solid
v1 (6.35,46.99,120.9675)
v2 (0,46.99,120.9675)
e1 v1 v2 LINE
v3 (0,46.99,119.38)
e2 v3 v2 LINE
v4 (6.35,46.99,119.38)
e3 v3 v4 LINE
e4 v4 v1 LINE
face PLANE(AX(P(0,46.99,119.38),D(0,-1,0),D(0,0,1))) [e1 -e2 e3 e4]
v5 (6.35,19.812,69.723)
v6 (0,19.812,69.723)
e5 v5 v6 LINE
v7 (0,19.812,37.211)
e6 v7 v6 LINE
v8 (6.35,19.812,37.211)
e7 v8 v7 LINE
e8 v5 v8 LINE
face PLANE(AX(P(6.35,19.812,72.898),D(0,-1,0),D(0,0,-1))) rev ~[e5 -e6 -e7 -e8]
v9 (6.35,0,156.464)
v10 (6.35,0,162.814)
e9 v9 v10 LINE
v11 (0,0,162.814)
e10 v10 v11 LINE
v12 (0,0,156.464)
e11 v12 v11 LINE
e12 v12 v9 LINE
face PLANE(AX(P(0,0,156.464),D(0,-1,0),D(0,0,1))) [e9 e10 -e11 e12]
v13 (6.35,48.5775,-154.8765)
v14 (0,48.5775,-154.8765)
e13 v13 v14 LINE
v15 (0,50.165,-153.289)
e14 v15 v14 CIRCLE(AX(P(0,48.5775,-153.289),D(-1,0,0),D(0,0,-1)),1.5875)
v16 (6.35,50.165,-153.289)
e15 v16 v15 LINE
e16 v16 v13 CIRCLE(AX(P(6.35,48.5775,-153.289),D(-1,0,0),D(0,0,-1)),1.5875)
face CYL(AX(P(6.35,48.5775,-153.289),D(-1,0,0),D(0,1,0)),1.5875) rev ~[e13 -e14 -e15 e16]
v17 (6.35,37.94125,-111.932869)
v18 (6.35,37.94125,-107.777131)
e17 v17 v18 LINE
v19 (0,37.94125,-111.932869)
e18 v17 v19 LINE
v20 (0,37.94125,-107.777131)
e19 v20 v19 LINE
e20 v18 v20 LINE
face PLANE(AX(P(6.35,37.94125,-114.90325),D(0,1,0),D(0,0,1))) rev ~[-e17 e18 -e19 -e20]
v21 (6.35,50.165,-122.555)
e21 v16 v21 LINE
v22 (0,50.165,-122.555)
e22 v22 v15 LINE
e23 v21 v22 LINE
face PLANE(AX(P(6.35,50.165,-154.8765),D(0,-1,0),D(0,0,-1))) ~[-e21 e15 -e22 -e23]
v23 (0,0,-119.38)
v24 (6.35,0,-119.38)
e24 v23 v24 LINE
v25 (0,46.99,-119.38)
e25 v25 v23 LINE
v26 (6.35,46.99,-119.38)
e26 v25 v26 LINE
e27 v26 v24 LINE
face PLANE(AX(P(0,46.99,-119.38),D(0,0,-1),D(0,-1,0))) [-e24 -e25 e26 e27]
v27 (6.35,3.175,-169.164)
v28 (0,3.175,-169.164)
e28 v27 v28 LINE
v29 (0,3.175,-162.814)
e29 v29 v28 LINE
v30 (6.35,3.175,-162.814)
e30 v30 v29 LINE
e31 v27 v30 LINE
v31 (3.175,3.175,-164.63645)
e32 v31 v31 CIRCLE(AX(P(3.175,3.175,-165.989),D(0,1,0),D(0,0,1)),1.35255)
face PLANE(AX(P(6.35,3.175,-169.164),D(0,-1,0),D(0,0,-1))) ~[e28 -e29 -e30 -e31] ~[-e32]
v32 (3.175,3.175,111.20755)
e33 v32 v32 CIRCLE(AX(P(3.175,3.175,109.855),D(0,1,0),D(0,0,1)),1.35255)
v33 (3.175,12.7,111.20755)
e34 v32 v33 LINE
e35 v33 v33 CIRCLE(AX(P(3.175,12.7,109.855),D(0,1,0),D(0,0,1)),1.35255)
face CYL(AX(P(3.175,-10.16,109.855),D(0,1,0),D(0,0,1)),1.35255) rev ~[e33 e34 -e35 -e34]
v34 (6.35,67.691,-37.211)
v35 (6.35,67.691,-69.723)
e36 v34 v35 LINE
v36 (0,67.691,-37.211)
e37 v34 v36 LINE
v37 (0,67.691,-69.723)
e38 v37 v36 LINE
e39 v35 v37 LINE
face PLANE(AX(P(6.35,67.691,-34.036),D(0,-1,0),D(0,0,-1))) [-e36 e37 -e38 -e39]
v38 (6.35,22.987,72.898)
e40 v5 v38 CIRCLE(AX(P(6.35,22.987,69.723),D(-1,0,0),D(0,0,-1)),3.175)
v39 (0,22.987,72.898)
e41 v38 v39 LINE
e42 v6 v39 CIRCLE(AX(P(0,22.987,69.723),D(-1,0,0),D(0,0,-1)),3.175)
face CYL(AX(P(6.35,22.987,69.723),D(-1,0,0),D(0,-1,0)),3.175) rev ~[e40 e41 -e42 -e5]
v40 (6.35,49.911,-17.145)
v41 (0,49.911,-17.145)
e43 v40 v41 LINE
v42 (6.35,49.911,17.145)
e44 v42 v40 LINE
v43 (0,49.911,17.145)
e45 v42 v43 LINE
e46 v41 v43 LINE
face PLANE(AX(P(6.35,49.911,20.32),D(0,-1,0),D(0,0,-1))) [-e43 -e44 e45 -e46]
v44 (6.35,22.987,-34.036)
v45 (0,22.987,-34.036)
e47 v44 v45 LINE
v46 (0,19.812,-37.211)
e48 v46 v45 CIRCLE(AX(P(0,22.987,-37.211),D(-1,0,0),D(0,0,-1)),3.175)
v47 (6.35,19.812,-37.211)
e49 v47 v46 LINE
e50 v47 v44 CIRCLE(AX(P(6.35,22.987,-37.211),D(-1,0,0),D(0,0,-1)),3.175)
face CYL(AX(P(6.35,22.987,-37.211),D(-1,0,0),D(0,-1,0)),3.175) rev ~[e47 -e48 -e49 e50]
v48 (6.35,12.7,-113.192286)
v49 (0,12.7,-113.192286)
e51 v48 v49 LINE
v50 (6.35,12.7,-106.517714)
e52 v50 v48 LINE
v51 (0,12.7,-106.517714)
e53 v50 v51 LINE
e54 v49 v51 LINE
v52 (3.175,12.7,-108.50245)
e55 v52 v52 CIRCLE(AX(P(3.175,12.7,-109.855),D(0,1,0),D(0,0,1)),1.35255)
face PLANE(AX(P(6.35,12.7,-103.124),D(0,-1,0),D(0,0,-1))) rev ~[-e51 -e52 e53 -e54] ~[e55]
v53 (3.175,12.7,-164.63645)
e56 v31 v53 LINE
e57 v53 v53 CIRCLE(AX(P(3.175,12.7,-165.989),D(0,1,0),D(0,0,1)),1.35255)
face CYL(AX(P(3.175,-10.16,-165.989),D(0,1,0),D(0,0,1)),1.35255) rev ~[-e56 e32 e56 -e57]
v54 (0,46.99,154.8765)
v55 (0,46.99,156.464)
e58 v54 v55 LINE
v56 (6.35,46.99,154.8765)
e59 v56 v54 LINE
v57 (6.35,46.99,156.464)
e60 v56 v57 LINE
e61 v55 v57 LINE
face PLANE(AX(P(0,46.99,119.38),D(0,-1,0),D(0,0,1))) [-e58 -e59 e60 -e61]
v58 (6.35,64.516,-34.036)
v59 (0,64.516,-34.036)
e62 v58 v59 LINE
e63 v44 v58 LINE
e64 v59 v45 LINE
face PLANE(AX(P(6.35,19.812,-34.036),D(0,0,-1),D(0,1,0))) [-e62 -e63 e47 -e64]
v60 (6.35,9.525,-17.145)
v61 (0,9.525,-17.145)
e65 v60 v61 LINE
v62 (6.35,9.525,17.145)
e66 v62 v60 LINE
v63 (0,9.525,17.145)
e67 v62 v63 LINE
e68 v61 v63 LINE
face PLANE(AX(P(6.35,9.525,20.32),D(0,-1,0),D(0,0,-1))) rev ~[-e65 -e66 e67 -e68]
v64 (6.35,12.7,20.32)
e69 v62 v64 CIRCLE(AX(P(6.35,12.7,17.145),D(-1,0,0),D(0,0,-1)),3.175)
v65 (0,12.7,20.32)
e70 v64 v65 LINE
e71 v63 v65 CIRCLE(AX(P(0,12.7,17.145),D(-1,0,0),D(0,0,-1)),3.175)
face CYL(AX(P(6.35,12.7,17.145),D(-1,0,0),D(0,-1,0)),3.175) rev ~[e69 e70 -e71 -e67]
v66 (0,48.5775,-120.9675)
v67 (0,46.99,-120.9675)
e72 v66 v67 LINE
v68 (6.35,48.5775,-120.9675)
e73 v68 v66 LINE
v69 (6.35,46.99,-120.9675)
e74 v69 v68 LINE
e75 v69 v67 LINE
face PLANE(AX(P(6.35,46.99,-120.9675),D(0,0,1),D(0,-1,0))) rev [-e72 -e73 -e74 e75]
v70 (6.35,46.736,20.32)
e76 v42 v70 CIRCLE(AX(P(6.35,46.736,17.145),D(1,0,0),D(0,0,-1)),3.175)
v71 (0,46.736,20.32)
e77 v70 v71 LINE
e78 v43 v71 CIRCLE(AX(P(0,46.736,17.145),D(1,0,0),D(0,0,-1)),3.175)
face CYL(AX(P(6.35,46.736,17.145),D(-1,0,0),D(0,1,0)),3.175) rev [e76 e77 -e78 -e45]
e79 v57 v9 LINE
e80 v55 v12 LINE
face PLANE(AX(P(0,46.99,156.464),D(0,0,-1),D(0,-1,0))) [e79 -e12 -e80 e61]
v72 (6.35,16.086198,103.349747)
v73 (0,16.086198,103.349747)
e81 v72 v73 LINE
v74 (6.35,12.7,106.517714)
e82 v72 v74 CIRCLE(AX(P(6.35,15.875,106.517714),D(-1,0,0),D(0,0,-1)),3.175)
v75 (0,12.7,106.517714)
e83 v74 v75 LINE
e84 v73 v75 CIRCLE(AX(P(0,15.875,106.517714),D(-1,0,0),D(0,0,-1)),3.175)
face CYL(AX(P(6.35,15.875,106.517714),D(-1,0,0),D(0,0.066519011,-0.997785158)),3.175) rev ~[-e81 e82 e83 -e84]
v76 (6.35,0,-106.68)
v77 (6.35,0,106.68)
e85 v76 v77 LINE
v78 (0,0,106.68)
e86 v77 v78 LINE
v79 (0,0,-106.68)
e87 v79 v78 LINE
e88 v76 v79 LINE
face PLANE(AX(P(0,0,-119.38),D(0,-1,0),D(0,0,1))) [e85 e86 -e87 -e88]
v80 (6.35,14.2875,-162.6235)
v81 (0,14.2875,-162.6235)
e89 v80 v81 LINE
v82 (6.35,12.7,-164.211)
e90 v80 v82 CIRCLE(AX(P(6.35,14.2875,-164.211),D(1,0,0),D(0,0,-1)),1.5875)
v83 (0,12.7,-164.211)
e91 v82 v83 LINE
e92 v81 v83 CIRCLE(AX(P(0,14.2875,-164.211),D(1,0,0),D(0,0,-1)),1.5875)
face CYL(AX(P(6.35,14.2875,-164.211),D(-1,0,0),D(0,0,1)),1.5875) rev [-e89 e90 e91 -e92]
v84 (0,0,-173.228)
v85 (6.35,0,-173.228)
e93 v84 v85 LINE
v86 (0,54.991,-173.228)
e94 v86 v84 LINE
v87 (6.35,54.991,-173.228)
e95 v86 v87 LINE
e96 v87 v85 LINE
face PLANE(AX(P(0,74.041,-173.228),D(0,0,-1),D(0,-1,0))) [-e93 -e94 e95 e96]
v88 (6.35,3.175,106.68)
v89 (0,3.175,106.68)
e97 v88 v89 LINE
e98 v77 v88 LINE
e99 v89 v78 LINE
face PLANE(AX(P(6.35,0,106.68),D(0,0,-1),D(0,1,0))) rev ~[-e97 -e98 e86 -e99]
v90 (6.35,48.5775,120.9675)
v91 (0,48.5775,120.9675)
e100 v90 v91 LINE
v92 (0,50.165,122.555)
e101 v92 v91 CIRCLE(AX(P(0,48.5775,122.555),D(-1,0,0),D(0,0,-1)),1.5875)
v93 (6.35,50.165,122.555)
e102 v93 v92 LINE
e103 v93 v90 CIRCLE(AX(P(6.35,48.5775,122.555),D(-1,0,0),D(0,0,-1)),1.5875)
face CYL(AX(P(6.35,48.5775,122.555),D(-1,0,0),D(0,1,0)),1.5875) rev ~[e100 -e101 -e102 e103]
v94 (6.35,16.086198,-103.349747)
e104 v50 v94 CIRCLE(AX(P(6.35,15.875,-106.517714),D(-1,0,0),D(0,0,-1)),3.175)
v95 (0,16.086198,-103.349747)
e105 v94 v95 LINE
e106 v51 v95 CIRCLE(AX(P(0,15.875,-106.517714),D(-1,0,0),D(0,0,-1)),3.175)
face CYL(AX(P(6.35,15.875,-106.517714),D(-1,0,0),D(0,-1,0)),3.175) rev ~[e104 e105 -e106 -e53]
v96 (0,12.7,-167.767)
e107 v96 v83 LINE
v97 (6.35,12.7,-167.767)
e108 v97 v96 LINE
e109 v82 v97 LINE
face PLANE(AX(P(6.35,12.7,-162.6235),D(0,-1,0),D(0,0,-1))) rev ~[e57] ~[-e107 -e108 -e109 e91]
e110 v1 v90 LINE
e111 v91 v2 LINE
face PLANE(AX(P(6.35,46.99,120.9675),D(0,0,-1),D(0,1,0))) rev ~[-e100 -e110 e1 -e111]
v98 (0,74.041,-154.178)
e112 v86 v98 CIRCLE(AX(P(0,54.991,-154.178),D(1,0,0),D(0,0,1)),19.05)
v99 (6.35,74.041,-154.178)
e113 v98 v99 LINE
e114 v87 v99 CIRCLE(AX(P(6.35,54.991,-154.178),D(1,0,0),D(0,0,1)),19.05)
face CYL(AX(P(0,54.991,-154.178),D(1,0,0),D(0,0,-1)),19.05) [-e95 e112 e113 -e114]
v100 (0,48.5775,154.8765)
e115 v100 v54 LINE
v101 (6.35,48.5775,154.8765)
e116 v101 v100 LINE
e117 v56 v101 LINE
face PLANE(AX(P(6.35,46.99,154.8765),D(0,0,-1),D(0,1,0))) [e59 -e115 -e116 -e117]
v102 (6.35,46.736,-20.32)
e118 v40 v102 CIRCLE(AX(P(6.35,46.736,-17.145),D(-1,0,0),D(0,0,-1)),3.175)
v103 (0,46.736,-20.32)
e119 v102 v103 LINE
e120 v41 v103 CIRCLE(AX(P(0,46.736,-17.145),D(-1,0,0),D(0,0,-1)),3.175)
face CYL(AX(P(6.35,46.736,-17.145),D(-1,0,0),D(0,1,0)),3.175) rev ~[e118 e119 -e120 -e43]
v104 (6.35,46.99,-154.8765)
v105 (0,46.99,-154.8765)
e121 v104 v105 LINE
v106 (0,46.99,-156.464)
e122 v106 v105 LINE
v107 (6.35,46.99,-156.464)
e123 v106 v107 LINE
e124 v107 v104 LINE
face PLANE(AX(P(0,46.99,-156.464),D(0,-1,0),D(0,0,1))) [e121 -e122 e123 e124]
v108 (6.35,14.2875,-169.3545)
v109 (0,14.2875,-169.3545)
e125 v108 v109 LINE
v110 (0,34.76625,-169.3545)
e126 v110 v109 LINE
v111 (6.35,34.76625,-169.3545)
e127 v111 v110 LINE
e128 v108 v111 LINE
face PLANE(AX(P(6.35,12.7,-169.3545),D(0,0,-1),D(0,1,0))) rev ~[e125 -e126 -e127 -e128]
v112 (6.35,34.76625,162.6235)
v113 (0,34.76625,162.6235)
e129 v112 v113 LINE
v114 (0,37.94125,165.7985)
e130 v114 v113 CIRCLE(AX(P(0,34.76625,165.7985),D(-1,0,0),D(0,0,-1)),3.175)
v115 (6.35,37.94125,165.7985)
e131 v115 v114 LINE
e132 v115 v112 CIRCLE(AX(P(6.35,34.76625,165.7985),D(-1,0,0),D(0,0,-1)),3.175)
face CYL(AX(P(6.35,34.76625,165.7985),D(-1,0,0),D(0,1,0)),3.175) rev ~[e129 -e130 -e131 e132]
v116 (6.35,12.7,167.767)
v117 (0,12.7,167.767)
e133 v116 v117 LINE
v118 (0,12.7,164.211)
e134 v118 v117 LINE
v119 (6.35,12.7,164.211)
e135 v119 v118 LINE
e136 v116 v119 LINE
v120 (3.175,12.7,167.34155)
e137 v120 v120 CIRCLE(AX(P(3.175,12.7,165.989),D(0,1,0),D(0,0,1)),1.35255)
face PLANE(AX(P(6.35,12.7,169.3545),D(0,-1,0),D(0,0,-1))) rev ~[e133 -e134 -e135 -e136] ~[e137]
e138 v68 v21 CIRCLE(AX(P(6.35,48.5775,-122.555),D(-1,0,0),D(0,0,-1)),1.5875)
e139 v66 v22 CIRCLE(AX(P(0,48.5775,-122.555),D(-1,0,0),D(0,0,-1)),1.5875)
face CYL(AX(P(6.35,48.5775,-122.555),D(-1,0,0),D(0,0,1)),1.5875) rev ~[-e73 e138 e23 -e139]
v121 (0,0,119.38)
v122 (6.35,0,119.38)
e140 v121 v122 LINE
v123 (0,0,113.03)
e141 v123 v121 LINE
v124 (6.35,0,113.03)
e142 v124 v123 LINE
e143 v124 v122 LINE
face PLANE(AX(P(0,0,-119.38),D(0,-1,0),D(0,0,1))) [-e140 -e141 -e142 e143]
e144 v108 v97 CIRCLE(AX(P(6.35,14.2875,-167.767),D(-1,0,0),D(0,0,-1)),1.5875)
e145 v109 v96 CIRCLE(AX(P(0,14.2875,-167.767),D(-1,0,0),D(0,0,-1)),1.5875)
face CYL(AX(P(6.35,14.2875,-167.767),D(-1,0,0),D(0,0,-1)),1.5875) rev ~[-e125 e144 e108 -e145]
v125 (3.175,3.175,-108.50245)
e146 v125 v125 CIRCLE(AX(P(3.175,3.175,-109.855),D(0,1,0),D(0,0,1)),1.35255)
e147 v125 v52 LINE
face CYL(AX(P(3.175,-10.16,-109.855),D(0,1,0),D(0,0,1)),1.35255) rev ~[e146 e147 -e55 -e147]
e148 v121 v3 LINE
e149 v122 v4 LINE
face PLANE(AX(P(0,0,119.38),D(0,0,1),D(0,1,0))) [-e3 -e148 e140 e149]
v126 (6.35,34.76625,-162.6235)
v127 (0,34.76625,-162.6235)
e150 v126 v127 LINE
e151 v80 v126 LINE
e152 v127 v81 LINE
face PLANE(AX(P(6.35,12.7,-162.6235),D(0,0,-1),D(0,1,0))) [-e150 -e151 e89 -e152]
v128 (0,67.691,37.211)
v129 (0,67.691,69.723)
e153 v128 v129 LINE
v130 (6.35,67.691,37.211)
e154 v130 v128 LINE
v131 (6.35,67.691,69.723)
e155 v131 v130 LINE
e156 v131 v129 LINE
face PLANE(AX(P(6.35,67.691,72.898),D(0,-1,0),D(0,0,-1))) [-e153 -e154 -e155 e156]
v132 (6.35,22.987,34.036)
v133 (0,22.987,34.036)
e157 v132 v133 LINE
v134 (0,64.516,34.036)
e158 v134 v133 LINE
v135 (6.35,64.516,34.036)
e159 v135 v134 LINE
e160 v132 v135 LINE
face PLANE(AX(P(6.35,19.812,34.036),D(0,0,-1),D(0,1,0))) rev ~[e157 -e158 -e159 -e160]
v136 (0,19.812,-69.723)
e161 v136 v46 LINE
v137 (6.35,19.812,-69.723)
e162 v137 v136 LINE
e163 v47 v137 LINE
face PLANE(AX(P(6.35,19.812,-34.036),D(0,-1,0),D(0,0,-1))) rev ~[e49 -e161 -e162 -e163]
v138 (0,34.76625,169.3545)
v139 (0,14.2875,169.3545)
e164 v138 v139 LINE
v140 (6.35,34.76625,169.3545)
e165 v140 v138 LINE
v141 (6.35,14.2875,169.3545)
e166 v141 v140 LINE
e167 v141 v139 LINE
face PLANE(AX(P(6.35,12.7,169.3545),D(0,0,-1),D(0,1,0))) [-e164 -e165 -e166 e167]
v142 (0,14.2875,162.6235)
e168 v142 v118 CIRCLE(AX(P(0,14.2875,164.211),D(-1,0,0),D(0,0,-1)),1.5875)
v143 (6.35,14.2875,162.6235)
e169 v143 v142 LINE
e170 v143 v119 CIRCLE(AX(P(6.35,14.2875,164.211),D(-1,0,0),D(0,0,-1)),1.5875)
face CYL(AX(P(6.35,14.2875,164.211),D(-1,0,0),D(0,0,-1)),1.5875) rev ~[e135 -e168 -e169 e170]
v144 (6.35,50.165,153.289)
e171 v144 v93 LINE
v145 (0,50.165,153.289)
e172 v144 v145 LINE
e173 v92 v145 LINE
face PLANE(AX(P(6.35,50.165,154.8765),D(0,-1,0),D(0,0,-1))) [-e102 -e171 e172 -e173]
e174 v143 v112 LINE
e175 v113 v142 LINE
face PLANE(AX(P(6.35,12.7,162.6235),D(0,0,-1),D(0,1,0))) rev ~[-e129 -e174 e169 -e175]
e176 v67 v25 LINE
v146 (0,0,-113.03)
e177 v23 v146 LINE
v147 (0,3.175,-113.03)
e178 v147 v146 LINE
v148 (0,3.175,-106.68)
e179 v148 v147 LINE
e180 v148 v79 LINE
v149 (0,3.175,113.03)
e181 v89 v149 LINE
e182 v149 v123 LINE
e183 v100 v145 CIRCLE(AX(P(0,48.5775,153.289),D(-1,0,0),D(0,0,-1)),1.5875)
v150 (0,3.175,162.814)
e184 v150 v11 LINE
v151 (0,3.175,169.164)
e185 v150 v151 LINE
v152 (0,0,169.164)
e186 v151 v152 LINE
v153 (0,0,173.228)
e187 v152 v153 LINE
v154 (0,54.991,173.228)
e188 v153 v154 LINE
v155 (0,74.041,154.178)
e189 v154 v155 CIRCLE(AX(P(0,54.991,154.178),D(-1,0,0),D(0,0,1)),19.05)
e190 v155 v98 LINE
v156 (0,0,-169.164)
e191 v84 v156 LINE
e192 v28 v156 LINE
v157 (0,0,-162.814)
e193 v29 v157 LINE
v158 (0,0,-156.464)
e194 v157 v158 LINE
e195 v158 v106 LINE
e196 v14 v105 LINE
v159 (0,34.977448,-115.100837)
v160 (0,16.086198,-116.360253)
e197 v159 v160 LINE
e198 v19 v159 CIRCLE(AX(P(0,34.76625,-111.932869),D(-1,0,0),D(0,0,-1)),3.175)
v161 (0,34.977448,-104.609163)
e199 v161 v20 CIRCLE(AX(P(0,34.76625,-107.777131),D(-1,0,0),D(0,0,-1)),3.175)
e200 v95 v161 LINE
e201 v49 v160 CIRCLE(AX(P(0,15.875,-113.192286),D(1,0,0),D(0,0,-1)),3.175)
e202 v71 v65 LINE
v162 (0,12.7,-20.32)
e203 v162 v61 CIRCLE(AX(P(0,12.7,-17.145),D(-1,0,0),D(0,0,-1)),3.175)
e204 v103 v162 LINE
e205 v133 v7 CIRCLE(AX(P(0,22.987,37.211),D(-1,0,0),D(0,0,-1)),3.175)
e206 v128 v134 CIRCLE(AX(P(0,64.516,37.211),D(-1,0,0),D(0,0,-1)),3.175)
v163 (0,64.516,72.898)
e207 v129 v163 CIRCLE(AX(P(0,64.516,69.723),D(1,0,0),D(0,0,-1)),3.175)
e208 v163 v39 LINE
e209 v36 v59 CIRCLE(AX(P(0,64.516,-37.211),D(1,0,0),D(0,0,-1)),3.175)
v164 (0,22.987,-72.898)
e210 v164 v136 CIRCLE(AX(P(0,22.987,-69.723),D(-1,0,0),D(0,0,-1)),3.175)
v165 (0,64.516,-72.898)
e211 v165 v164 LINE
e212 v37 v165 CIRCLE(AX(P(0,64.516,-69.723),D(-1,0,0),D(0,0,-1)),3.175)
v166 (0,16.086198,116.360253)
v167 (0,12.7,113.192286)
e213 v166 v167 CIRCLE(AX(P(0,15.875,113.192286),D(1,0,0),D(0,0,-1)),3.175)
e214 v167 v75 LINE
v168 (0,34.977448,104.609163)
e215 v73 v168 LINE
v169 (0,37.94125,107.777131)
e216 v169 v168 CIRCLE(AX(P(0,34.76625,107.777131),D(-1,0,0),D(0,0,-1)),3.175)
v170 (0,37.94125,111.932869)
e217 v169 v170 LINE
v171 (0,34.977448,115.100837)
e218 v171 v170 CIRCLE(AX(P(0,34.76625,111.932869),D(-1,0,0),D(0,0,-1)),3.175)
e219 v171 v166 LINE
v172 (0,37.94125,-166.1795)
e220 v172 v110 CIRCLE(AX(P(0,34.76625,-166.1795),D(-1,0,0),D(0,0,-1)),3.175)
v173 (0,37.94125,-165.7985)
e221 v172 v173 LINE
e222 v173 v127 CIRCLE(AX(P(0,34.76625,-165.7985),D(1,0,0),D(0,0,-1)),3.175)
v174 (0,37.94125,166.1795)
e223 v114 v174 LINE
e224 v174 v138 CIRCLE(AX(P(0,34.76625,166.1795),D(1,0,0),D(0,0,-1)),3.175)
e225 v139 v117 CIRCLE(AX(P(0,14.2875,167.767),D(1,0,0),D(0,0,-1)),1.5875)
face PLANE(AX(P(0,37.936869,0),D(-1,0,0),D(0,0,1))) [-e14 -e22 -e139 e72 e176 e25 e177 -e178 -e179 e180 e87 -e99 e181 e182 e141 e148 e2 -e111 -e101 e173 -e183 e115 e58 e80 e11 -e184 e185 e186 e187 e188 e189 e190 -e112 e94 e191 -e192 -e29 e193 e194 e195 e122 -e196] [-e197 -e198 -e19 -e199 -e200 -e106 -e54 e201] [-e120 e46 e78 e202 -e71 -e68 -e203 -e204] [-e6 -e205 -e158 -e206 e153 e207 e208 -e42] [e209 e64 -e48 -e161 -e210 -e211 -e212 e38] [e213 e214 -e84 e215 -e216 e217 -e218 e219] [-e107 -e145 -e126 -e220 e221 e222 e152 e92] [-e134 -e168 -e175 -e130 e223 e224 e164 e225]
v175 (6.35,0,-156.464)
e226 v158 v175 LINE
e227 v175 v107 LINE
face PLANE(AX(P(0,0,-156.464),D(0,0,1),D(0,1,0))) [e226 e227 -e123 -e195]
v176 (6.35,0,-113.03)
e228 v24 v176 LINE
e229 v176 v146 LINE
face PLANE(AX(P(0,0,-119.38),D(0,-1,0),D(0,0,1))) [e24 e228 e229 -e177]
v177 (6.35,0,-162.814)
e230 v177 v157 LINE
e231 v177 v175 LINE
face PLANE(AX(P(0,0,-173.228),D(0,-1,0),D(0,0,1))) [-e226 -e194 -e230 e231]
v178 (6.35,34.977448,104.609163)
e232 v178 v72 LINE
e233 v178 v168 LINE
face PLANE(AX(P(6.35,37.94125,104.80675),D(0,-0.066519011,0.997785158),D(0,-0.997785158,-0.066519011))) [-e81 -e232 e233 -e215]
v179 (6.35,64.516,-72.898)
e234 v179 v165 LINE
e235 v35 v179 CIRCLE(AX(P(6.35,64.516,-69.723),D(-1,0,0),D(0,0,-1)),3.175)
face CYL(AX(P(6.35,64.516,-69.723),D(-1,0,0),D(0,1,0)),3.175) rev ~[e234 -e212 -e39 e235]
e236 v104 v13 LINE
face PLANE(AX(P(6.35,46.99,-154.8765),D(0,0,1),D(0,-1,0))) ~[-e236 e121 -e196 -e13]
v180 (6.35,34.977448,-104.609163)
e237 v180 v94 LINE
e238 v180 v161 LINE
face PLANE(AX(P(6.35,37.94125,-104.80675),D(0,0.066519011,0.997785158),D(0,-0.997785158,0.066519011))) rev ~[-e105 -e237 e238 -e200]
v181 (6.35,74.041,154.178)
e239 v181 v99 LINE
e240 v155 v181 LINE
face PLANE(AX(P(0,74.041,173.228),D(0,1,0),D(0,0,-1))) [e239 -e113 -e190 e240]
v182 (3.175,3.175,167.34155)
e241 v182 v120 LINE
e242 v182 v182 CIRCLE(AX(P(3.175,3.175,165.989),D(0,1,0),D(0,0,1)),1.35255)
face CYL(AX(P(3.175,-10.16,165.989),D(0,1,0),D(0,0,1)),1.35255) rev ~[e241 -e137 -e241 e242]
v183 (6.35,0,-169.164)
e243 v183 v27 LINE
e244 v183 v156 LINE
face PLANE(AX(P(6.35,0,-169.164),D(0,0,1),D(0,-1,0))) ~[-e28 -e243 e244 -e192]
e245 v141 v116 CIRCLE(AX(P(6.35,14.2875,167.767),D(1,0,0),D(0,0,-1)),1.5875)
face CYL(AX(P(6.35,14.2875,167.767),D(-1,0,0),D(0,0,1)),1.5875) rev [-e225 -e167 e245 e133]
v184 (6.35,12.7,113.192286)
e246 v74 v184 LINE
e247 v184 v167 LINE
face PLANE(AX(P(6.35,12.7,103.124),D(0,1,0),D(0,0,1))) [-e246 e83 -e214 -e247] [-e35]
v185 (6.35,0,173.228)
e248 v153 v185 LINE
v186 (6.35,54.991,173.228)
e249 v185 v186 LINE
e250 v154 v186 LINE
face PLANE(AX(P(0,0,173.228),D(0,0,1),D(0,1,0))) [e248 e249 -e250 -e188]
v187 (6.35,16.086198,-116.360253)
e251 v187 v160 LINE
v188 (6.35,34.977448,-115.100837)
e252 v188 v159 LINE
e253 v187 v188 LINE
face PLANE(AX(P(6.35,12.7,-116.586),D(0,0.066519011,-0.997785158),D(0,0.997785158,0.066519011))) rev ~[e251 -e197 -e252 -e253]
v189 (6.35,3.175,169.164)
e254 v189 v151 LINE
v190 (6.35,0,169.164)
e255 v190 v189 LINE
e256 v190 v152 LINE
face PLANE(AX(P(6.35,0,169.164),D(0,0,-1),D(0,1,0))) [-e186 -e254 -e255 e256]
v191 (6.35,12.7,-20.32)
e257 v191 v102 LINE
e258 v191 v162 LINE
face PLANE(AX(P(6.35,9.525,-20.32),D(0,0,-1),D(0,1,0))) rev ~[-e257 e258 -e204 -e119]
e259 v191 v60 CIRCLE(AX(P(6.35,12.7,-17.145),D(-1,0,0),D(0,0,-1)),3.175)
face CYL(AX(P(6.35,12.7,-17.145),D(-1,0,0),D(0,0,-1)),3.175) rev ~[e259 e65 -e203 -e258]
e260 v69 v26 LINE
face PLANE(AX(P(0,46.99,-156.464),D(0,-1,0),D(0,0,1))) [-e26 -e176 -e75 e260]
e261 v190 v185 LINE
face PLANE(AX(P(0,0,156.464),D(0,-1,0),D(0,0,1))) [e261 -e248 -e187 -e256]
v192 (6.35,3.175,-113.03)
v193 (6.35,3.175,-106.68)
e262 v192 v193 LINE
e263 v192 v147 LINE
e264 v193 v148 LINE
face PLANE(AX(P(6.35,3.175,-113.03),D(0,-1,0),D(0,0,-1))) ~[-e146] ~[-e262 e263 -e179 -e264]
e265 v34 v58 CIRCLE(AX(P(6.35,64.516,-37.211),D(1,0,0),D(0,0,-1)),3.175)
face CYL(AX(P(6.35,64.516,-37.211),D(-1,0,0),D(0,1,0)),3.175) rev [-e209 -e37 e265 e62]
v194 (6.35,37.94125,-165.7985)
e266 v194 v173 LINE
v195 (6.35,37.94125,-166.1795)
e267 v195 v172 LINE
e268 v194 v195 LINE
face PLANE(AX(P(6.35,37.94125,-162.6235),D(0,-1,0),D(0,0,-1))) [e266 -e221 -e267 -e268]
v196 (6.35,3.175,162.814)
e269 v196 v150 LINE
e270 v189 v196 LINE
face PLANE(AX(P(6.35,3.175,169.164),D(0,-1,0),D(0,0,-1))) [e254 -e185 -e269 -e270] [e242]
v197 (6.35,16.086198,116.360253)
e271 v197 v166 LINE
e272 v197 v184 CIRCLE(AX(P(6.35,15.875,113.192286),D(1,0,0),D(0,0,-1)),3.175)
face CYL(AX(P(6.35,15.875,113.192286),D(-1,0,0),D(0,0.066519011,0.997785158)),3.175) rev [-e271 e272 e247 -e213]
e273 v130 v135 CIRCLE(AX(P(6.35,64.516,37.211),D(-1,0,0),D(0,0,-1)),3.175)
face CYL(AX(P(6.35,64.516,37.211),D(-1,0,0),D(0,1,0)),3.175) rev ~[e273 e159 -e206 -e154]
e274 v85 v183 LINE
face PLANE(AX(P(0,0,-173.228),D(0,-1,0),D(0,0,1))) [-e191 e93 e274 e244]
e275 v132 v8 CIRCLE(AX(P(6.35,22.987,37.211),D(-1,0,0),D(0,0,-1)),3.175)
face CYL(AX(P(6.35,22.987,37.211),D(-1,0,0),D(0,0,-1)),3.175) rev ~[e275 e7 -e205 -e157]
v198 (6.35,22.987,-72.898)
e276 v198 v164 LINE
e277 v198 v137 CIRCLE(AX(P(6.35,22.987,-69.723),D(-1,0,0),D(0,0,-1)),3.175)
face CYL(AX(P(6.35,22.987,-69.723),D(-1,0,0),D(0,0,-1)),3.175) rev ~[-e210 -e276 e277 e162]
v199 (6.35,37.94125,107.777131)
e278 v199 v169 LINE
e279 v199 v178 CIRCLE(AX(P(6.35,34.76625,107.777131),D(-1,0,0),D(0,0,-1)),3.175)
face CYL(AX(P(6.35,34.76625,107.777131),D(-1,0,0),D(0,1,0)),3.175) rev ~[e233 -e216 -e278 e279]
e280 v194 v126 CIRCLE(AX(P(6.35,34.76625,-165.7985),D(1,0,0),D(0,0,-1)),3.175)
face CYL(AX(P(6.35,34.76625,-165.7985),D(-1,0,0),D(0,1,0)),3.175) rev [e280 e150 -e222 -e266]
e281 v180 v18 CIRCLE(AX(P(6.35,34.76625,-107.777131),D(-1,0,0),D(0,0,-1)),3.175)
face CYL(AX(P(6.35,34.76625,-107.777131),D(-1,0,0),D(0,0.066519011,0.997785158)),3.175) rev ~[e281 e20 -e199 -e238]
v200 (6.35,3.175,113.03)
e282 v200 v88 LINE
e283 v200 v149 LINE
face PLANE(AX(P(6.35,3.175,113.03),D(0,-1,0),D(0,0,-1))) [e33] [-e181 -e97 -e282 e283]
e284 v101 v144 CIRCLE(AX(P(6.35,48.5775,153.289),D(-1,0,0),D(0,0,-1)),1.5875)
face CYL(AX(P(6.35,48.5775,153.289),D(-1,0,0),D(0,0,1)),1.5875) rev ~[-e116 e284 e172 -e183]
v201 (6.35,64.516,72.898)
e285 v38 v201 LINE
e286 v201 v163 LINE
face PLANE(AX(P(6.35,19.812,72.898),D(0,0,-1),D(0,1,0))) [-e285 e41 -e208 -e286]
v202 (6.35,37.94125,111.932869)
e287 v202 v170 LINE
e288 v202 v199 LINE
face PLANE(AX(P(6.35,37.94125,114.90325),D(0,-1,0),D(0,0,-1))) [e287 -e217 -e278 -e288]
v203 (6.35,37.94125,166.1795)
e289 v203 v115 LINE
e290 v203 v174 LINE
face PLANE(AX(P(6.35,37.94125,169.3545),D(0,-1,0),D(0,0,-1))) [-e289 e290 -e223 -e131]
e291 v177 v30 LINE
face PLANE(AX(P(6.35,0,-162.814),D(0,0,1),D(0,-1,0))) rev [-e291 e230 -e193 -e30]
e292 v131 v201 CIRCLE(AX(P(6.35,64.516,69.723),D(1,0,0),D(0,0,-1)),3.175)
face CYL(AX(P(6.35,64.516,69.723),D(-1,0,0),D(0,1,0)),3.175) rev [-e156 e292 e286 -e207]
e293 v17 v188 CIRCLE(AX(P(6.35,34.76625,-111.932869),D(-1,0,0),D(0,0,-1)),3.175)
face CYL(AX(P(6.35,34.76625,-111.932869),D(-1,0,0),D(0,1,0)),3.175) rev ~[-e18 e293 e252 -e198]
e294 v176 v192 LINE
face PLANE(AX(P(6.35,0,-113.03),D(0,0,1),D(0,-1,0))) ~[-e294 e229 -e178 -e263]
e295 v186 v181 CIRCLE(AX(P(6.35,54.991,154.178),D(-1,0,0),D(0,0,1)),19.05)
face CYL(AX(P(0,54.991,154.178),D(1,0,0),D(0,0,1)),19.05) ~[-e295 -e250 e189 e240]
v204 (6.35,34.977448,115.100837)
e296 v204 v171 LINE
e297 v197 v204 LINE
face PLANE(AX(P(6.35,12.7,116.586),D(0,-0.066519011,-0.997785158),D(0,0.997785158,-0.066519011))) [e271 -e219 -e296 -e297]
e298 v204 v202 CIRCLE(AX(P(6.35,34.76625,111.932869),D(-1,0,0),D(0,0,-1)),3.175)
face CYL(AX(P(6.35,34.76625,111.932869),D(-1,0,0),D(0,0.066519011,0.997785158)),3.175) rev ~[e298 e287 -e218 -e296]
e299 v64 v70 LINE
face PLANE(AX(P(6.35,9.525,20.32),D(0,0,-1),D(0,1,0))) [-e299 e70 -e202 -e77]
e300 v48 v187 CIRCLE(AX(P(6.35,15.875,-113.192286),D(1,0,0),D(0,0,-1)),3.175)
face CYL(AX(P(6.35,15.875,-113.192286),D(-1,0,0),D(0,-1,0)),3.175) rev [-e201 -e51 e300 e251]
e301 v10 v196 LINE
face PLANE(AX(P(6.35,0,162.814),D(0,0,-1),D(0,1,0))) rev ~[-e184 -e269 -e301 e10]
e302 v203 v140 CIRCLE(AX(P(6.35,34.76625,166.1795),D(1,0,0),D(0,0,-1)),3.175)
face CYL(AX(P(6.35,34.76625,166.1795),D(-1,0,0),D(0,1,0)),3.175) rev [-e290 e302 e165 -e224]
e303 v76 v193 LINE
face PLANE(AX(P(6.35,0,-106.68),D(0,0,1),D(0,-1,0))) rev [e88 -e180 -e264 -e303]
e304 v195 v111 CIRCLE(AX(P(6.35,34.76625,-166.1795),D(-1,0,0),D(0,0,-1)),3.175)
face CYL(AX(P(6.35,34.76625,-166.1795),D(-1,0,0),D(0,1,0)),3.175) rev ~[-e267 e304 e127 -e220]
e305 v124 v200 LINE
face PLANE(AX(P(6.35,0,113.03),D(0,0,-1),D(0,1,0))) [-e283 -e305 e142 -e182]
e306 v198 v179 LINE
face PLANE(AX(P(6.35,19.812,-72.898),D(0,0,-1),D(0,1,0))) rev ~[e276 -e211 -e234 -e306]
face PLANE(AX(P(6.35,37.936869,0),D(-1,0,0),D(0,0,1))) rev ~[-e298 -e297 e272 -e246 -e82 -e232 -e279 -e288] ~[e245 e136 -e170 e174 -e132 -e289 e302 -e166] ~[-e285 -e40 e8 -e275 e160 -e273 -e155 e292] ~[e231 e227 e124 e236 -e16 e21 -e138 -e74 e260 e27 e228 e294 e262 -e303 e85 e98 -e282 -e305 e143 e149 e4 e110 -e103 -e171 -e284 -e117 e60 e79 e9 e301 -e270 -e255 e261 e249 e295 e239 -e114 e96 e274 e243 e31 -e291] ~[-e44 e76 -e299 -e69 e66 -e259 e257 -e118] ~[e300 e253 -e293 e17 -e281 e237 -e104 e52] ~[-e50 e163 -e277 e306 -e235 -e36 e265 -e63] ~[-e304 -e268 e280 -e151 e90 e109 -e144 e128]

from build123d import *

# Parameters (mm, degrees)
BOSS_EXTRUDE1_DEPTH       = 6.35
FILLET1_R                 = 19.05
SKETCH2_W                 = 33.909
SKETCH2_H                 = 3.175
CUT_EXTRUDE1_DEPTH        = 189.494912836
FILLET2_R                 = 1.5875
FILLET2_OF_MIRROR1_R      = 1.5875
SKETCH3_W                 = 6.35
SKETCH3_H                 = 3.175
CUT_EXTRUDE2_DEPTH        = 189.494912836
SKETCH4_W                 = 38.862
SKETCH4_H                 = 47.879
SKETCH4_W_2               = 40.64
SKETCH4_H_2               = 40.386
CUT_EXTRUDE3_DEPTH        = 189.494912836
FILLET3_R                 = 3.175
SKETCH5_W                 = 6.731
SKETCH5_H                 = 25.24125
CUT_EXTRUDE4_DEPTH        = 189.494912836
FILLET4_R                 = 3.175
FILLET5_R                 = 1.5875
F_6_32_TAPPED_HOLE1_D     = 2.7051
F_6_32_TAPPED_HOLE1_DEPTH = 13.335
F_6_32_TAPPED_HOLE1_TIP   = 0.81269403


with BuildPart() as part:
    # Sketch1 → Boss-Extrude1 (new body)
    with BuildSketch(Plane(origin=(0, 0, 0), x_dir=(0, 0, -1), z_dir=(1, 0, 0))):
        Polygon((173.228, 74.041), (173.228, 0), (156.464, 0), (156.464, 46.99), (119.38, 46.99), (119.38, 0), (-119.38, 0), (-119.38, 46.99), (-156.464, 46.99), (-156.464, 0), (-173.228, 0), (-173.228, 74.041), align=None)
    extrude(amount=BOSS_EXTRUDE1_DEPTH)

    # Fillet1
    fillet1_edges = [part.edges().sort_by_distance(p)[0] for p in [
        (3.175, 74.041, 173.228),
        (3.175, 74.041, -173.228),
    ]]
    fillet(fillet1_edges, radius=FILLET1_R)

    # Sketch2 → Cut-Extrude1 (cut, through all)
    with BuildSketch(Plane(origin=(6.35, 0, 0), x_dir=(0, 0, -1), z_dir=(1, 0, 0))):
        with Locations((-137.922, 48.5775)):
            Rectangle(SKETCH2_W, SKETCH2_H)
    cut_extrude1 = extrude(amount=-CUT_EXTRUDE1_DEPTH, mode=Mode.SUBTRACT)

    # Fillet2
    fillet2_edges = [part.edges().sort_by_distance(p)[0] for p in [
        (3.175, 50.165, 154.8765),
        (3.175, 50.165, 120.9675),
    ]]
    fillet(fillet2_edges, radius=FILLET2_R)

    # Mirror1: Cut-Extrude1 across plane
    add(cut_extrude1.mirror(Plane.XY), mode=Mode.SUBTRACT)

    # Fillet2 of Mirror1
    fillet2_of_mirror1_edges = [part.edges().sort_by_distance(p)[0] for p in [
        (3.175, 50.165, -154.8765),
        (3.175, 50.165, -120.9675),
    ]]
    fillet(fillet2_of_mirror1_edges, radius=FILLET2_OF_MIRROR1_R)

    # Sketch3 → Cut-Extrude2 (cut, through all)
    with BuildSketch(Plane(origin=(6.35, 0, 0), x_dir=(0, 0, -1), z_dir=(1, 0, 0))):
        with Locations((-109.855, 1.5875)):
            Rectangle(SKETCH3_W, SKETCH3_H)
        with Locations((-165.989, 1.5875)):
            Rectangle(SKETCH3_W, SKETCH3_H)
    cut_extrude2 = extrude(amount=-CUT_EXTRUDE2_DEPTH, mode=Mode.SUBTRACT)

    # Mirror2: Cut-Extrude2 across plane
    add(cut_extrude2.mirror(Plane.XY), mode=Mode.SUBTRACT)

    # Sketch4 → Cut-Extrude3 (cut, through all)
    with BuildSketch(Plane(origin=(6.35, 0, 0), x_dir=(0, 0, -1), z_dir=(1, 0, 0))):
        with Locations((53.467, 43.7515)):
            Rectangle(SKETCH4_W, SKETCH4_H)
        with Locations((-53.467, 43.7515)):
            Rectangle(SKETCH4_W, SKETCH4_H)
        with Locations((0, 29.718)):
            Rectangle(SKETCH4_W_2, SKETCH4_H_2)
    extrude(amount=-CUT_EXTRUDE3_DEPTH, mode=Mode.SUBTRACT)

    # Fillet3
    fillet3_edges = [part.edges().sort_by_distance(p)[0] for p in [
        (3.175, 19.812, 72.898),
        (3.175, 67.691, 72.898),
        (3.175, 67.691, 34.036),
        (3.175, 19.812, 34.036),
        (3.175, 67.691, -34.036),
        (3.175, 67.691, -72.898),
        (3.175, 19.812, -72.898),
        (3.175, 19.812, -34.036),
        (3.175, 9.525, 20.32),
        (3.175, 49.911, 20.32),
        (3.175, 49.911, -20.32),
        (3.175, 9.525, -20.32),
    ]]
    fillet(fillet3_edges, radius=FILLET3_R)

    # Sketch5 → Cut-Extrude4 (cut, through all)
    with BuildSketch(Plane(origin=(6.35, 0, 0), x_dir=(0, 0, -1), z_dir=(1, 0, 0))):
        with Locations((165.989, 25.320625)):
            Rectangle(SKETCH5_W, SKETCH5_H)
        with Locations((-165.989, 25.320625)):
            Rectangle(SKETCH5_W, SKETCH5_H)
        Polygon((103.124, 12.7), (116.586, 12.7), (114.90325, 37.94125), (104.80675, 37.94125), align=None)
        Polygon((-103.124, 12.7), (-116.586, 12.7), (-114.90325, 37.94125), (-104.80675, 37.94125), align=None)
    extrude(amount=-CUT_EXTRUDE4_DEPTH, mode=Mode.SUBTRACT)

    # Fillet4
    fillet4_edges = [part.edges().sort_by_distance(p)[0] for p in [
        (3.175, 37.94125, -169.3545),
        (3.175, 37.94125, -162.6235),
        (3.175, 37.94125, 169.3545),
        (3.175, 37.94125, 162.6235),
        (3.175, 12.7, -103.124),
        (3.175, 37.94125, -104.80675),
        (3.175, 37.94125, -114.90325),
        (3.175, 12.7, -116.586),
        (3.175, 37.94125, 104.80675),
        (3.175, 12.7, 103.124),
        (3.175, 12.7, 116.586),
        (3.175, 37.94125, 114.90325),
    ]]
    fillet(fillet4_edges, radius=FILLET4_R)

    # Fillet5
    fillet5_edges = [part.edges().sort_by_distance(p)[0] for p in [
        (3.175, 12.7, -169.3545),
        (3.175, 12.7, -162.6235),
        (3.175, 12.7, 169.3545),
        (3.175, 12.7, 162.6235),
    ]]
    fillet(fillet5_edges, radius=FILLET5_R)

    # #6-32 Tapped Hole1
    with Locations(Plane(origin=(3.175, 3.175, 165.989), x_dir=(0, 0, -1), z_dir=(0, -1, 0))):
        with Locations((0, 0), (56.134, 0), (275.844, 0), (331.978, 0)):
            Hole(F_6_32_TAPPED_HOLE1_D / 2, depth=F_6_32_TAPPED_HOLE1_DEPTH)
            with Locations((0, 0, -(F_6_32_TAPPED_HOLE1_DEPTH + F_6_32_TAPPED_HOLE1_TIP / 2))):  # 118° drill point
                Cone(0, F_6_32_TAPPED_HOLE1_D / 2, F_6_32_TAPPED_HOLE1_TIP, mode=Mode.SUBTRACT)


solid = part.part
